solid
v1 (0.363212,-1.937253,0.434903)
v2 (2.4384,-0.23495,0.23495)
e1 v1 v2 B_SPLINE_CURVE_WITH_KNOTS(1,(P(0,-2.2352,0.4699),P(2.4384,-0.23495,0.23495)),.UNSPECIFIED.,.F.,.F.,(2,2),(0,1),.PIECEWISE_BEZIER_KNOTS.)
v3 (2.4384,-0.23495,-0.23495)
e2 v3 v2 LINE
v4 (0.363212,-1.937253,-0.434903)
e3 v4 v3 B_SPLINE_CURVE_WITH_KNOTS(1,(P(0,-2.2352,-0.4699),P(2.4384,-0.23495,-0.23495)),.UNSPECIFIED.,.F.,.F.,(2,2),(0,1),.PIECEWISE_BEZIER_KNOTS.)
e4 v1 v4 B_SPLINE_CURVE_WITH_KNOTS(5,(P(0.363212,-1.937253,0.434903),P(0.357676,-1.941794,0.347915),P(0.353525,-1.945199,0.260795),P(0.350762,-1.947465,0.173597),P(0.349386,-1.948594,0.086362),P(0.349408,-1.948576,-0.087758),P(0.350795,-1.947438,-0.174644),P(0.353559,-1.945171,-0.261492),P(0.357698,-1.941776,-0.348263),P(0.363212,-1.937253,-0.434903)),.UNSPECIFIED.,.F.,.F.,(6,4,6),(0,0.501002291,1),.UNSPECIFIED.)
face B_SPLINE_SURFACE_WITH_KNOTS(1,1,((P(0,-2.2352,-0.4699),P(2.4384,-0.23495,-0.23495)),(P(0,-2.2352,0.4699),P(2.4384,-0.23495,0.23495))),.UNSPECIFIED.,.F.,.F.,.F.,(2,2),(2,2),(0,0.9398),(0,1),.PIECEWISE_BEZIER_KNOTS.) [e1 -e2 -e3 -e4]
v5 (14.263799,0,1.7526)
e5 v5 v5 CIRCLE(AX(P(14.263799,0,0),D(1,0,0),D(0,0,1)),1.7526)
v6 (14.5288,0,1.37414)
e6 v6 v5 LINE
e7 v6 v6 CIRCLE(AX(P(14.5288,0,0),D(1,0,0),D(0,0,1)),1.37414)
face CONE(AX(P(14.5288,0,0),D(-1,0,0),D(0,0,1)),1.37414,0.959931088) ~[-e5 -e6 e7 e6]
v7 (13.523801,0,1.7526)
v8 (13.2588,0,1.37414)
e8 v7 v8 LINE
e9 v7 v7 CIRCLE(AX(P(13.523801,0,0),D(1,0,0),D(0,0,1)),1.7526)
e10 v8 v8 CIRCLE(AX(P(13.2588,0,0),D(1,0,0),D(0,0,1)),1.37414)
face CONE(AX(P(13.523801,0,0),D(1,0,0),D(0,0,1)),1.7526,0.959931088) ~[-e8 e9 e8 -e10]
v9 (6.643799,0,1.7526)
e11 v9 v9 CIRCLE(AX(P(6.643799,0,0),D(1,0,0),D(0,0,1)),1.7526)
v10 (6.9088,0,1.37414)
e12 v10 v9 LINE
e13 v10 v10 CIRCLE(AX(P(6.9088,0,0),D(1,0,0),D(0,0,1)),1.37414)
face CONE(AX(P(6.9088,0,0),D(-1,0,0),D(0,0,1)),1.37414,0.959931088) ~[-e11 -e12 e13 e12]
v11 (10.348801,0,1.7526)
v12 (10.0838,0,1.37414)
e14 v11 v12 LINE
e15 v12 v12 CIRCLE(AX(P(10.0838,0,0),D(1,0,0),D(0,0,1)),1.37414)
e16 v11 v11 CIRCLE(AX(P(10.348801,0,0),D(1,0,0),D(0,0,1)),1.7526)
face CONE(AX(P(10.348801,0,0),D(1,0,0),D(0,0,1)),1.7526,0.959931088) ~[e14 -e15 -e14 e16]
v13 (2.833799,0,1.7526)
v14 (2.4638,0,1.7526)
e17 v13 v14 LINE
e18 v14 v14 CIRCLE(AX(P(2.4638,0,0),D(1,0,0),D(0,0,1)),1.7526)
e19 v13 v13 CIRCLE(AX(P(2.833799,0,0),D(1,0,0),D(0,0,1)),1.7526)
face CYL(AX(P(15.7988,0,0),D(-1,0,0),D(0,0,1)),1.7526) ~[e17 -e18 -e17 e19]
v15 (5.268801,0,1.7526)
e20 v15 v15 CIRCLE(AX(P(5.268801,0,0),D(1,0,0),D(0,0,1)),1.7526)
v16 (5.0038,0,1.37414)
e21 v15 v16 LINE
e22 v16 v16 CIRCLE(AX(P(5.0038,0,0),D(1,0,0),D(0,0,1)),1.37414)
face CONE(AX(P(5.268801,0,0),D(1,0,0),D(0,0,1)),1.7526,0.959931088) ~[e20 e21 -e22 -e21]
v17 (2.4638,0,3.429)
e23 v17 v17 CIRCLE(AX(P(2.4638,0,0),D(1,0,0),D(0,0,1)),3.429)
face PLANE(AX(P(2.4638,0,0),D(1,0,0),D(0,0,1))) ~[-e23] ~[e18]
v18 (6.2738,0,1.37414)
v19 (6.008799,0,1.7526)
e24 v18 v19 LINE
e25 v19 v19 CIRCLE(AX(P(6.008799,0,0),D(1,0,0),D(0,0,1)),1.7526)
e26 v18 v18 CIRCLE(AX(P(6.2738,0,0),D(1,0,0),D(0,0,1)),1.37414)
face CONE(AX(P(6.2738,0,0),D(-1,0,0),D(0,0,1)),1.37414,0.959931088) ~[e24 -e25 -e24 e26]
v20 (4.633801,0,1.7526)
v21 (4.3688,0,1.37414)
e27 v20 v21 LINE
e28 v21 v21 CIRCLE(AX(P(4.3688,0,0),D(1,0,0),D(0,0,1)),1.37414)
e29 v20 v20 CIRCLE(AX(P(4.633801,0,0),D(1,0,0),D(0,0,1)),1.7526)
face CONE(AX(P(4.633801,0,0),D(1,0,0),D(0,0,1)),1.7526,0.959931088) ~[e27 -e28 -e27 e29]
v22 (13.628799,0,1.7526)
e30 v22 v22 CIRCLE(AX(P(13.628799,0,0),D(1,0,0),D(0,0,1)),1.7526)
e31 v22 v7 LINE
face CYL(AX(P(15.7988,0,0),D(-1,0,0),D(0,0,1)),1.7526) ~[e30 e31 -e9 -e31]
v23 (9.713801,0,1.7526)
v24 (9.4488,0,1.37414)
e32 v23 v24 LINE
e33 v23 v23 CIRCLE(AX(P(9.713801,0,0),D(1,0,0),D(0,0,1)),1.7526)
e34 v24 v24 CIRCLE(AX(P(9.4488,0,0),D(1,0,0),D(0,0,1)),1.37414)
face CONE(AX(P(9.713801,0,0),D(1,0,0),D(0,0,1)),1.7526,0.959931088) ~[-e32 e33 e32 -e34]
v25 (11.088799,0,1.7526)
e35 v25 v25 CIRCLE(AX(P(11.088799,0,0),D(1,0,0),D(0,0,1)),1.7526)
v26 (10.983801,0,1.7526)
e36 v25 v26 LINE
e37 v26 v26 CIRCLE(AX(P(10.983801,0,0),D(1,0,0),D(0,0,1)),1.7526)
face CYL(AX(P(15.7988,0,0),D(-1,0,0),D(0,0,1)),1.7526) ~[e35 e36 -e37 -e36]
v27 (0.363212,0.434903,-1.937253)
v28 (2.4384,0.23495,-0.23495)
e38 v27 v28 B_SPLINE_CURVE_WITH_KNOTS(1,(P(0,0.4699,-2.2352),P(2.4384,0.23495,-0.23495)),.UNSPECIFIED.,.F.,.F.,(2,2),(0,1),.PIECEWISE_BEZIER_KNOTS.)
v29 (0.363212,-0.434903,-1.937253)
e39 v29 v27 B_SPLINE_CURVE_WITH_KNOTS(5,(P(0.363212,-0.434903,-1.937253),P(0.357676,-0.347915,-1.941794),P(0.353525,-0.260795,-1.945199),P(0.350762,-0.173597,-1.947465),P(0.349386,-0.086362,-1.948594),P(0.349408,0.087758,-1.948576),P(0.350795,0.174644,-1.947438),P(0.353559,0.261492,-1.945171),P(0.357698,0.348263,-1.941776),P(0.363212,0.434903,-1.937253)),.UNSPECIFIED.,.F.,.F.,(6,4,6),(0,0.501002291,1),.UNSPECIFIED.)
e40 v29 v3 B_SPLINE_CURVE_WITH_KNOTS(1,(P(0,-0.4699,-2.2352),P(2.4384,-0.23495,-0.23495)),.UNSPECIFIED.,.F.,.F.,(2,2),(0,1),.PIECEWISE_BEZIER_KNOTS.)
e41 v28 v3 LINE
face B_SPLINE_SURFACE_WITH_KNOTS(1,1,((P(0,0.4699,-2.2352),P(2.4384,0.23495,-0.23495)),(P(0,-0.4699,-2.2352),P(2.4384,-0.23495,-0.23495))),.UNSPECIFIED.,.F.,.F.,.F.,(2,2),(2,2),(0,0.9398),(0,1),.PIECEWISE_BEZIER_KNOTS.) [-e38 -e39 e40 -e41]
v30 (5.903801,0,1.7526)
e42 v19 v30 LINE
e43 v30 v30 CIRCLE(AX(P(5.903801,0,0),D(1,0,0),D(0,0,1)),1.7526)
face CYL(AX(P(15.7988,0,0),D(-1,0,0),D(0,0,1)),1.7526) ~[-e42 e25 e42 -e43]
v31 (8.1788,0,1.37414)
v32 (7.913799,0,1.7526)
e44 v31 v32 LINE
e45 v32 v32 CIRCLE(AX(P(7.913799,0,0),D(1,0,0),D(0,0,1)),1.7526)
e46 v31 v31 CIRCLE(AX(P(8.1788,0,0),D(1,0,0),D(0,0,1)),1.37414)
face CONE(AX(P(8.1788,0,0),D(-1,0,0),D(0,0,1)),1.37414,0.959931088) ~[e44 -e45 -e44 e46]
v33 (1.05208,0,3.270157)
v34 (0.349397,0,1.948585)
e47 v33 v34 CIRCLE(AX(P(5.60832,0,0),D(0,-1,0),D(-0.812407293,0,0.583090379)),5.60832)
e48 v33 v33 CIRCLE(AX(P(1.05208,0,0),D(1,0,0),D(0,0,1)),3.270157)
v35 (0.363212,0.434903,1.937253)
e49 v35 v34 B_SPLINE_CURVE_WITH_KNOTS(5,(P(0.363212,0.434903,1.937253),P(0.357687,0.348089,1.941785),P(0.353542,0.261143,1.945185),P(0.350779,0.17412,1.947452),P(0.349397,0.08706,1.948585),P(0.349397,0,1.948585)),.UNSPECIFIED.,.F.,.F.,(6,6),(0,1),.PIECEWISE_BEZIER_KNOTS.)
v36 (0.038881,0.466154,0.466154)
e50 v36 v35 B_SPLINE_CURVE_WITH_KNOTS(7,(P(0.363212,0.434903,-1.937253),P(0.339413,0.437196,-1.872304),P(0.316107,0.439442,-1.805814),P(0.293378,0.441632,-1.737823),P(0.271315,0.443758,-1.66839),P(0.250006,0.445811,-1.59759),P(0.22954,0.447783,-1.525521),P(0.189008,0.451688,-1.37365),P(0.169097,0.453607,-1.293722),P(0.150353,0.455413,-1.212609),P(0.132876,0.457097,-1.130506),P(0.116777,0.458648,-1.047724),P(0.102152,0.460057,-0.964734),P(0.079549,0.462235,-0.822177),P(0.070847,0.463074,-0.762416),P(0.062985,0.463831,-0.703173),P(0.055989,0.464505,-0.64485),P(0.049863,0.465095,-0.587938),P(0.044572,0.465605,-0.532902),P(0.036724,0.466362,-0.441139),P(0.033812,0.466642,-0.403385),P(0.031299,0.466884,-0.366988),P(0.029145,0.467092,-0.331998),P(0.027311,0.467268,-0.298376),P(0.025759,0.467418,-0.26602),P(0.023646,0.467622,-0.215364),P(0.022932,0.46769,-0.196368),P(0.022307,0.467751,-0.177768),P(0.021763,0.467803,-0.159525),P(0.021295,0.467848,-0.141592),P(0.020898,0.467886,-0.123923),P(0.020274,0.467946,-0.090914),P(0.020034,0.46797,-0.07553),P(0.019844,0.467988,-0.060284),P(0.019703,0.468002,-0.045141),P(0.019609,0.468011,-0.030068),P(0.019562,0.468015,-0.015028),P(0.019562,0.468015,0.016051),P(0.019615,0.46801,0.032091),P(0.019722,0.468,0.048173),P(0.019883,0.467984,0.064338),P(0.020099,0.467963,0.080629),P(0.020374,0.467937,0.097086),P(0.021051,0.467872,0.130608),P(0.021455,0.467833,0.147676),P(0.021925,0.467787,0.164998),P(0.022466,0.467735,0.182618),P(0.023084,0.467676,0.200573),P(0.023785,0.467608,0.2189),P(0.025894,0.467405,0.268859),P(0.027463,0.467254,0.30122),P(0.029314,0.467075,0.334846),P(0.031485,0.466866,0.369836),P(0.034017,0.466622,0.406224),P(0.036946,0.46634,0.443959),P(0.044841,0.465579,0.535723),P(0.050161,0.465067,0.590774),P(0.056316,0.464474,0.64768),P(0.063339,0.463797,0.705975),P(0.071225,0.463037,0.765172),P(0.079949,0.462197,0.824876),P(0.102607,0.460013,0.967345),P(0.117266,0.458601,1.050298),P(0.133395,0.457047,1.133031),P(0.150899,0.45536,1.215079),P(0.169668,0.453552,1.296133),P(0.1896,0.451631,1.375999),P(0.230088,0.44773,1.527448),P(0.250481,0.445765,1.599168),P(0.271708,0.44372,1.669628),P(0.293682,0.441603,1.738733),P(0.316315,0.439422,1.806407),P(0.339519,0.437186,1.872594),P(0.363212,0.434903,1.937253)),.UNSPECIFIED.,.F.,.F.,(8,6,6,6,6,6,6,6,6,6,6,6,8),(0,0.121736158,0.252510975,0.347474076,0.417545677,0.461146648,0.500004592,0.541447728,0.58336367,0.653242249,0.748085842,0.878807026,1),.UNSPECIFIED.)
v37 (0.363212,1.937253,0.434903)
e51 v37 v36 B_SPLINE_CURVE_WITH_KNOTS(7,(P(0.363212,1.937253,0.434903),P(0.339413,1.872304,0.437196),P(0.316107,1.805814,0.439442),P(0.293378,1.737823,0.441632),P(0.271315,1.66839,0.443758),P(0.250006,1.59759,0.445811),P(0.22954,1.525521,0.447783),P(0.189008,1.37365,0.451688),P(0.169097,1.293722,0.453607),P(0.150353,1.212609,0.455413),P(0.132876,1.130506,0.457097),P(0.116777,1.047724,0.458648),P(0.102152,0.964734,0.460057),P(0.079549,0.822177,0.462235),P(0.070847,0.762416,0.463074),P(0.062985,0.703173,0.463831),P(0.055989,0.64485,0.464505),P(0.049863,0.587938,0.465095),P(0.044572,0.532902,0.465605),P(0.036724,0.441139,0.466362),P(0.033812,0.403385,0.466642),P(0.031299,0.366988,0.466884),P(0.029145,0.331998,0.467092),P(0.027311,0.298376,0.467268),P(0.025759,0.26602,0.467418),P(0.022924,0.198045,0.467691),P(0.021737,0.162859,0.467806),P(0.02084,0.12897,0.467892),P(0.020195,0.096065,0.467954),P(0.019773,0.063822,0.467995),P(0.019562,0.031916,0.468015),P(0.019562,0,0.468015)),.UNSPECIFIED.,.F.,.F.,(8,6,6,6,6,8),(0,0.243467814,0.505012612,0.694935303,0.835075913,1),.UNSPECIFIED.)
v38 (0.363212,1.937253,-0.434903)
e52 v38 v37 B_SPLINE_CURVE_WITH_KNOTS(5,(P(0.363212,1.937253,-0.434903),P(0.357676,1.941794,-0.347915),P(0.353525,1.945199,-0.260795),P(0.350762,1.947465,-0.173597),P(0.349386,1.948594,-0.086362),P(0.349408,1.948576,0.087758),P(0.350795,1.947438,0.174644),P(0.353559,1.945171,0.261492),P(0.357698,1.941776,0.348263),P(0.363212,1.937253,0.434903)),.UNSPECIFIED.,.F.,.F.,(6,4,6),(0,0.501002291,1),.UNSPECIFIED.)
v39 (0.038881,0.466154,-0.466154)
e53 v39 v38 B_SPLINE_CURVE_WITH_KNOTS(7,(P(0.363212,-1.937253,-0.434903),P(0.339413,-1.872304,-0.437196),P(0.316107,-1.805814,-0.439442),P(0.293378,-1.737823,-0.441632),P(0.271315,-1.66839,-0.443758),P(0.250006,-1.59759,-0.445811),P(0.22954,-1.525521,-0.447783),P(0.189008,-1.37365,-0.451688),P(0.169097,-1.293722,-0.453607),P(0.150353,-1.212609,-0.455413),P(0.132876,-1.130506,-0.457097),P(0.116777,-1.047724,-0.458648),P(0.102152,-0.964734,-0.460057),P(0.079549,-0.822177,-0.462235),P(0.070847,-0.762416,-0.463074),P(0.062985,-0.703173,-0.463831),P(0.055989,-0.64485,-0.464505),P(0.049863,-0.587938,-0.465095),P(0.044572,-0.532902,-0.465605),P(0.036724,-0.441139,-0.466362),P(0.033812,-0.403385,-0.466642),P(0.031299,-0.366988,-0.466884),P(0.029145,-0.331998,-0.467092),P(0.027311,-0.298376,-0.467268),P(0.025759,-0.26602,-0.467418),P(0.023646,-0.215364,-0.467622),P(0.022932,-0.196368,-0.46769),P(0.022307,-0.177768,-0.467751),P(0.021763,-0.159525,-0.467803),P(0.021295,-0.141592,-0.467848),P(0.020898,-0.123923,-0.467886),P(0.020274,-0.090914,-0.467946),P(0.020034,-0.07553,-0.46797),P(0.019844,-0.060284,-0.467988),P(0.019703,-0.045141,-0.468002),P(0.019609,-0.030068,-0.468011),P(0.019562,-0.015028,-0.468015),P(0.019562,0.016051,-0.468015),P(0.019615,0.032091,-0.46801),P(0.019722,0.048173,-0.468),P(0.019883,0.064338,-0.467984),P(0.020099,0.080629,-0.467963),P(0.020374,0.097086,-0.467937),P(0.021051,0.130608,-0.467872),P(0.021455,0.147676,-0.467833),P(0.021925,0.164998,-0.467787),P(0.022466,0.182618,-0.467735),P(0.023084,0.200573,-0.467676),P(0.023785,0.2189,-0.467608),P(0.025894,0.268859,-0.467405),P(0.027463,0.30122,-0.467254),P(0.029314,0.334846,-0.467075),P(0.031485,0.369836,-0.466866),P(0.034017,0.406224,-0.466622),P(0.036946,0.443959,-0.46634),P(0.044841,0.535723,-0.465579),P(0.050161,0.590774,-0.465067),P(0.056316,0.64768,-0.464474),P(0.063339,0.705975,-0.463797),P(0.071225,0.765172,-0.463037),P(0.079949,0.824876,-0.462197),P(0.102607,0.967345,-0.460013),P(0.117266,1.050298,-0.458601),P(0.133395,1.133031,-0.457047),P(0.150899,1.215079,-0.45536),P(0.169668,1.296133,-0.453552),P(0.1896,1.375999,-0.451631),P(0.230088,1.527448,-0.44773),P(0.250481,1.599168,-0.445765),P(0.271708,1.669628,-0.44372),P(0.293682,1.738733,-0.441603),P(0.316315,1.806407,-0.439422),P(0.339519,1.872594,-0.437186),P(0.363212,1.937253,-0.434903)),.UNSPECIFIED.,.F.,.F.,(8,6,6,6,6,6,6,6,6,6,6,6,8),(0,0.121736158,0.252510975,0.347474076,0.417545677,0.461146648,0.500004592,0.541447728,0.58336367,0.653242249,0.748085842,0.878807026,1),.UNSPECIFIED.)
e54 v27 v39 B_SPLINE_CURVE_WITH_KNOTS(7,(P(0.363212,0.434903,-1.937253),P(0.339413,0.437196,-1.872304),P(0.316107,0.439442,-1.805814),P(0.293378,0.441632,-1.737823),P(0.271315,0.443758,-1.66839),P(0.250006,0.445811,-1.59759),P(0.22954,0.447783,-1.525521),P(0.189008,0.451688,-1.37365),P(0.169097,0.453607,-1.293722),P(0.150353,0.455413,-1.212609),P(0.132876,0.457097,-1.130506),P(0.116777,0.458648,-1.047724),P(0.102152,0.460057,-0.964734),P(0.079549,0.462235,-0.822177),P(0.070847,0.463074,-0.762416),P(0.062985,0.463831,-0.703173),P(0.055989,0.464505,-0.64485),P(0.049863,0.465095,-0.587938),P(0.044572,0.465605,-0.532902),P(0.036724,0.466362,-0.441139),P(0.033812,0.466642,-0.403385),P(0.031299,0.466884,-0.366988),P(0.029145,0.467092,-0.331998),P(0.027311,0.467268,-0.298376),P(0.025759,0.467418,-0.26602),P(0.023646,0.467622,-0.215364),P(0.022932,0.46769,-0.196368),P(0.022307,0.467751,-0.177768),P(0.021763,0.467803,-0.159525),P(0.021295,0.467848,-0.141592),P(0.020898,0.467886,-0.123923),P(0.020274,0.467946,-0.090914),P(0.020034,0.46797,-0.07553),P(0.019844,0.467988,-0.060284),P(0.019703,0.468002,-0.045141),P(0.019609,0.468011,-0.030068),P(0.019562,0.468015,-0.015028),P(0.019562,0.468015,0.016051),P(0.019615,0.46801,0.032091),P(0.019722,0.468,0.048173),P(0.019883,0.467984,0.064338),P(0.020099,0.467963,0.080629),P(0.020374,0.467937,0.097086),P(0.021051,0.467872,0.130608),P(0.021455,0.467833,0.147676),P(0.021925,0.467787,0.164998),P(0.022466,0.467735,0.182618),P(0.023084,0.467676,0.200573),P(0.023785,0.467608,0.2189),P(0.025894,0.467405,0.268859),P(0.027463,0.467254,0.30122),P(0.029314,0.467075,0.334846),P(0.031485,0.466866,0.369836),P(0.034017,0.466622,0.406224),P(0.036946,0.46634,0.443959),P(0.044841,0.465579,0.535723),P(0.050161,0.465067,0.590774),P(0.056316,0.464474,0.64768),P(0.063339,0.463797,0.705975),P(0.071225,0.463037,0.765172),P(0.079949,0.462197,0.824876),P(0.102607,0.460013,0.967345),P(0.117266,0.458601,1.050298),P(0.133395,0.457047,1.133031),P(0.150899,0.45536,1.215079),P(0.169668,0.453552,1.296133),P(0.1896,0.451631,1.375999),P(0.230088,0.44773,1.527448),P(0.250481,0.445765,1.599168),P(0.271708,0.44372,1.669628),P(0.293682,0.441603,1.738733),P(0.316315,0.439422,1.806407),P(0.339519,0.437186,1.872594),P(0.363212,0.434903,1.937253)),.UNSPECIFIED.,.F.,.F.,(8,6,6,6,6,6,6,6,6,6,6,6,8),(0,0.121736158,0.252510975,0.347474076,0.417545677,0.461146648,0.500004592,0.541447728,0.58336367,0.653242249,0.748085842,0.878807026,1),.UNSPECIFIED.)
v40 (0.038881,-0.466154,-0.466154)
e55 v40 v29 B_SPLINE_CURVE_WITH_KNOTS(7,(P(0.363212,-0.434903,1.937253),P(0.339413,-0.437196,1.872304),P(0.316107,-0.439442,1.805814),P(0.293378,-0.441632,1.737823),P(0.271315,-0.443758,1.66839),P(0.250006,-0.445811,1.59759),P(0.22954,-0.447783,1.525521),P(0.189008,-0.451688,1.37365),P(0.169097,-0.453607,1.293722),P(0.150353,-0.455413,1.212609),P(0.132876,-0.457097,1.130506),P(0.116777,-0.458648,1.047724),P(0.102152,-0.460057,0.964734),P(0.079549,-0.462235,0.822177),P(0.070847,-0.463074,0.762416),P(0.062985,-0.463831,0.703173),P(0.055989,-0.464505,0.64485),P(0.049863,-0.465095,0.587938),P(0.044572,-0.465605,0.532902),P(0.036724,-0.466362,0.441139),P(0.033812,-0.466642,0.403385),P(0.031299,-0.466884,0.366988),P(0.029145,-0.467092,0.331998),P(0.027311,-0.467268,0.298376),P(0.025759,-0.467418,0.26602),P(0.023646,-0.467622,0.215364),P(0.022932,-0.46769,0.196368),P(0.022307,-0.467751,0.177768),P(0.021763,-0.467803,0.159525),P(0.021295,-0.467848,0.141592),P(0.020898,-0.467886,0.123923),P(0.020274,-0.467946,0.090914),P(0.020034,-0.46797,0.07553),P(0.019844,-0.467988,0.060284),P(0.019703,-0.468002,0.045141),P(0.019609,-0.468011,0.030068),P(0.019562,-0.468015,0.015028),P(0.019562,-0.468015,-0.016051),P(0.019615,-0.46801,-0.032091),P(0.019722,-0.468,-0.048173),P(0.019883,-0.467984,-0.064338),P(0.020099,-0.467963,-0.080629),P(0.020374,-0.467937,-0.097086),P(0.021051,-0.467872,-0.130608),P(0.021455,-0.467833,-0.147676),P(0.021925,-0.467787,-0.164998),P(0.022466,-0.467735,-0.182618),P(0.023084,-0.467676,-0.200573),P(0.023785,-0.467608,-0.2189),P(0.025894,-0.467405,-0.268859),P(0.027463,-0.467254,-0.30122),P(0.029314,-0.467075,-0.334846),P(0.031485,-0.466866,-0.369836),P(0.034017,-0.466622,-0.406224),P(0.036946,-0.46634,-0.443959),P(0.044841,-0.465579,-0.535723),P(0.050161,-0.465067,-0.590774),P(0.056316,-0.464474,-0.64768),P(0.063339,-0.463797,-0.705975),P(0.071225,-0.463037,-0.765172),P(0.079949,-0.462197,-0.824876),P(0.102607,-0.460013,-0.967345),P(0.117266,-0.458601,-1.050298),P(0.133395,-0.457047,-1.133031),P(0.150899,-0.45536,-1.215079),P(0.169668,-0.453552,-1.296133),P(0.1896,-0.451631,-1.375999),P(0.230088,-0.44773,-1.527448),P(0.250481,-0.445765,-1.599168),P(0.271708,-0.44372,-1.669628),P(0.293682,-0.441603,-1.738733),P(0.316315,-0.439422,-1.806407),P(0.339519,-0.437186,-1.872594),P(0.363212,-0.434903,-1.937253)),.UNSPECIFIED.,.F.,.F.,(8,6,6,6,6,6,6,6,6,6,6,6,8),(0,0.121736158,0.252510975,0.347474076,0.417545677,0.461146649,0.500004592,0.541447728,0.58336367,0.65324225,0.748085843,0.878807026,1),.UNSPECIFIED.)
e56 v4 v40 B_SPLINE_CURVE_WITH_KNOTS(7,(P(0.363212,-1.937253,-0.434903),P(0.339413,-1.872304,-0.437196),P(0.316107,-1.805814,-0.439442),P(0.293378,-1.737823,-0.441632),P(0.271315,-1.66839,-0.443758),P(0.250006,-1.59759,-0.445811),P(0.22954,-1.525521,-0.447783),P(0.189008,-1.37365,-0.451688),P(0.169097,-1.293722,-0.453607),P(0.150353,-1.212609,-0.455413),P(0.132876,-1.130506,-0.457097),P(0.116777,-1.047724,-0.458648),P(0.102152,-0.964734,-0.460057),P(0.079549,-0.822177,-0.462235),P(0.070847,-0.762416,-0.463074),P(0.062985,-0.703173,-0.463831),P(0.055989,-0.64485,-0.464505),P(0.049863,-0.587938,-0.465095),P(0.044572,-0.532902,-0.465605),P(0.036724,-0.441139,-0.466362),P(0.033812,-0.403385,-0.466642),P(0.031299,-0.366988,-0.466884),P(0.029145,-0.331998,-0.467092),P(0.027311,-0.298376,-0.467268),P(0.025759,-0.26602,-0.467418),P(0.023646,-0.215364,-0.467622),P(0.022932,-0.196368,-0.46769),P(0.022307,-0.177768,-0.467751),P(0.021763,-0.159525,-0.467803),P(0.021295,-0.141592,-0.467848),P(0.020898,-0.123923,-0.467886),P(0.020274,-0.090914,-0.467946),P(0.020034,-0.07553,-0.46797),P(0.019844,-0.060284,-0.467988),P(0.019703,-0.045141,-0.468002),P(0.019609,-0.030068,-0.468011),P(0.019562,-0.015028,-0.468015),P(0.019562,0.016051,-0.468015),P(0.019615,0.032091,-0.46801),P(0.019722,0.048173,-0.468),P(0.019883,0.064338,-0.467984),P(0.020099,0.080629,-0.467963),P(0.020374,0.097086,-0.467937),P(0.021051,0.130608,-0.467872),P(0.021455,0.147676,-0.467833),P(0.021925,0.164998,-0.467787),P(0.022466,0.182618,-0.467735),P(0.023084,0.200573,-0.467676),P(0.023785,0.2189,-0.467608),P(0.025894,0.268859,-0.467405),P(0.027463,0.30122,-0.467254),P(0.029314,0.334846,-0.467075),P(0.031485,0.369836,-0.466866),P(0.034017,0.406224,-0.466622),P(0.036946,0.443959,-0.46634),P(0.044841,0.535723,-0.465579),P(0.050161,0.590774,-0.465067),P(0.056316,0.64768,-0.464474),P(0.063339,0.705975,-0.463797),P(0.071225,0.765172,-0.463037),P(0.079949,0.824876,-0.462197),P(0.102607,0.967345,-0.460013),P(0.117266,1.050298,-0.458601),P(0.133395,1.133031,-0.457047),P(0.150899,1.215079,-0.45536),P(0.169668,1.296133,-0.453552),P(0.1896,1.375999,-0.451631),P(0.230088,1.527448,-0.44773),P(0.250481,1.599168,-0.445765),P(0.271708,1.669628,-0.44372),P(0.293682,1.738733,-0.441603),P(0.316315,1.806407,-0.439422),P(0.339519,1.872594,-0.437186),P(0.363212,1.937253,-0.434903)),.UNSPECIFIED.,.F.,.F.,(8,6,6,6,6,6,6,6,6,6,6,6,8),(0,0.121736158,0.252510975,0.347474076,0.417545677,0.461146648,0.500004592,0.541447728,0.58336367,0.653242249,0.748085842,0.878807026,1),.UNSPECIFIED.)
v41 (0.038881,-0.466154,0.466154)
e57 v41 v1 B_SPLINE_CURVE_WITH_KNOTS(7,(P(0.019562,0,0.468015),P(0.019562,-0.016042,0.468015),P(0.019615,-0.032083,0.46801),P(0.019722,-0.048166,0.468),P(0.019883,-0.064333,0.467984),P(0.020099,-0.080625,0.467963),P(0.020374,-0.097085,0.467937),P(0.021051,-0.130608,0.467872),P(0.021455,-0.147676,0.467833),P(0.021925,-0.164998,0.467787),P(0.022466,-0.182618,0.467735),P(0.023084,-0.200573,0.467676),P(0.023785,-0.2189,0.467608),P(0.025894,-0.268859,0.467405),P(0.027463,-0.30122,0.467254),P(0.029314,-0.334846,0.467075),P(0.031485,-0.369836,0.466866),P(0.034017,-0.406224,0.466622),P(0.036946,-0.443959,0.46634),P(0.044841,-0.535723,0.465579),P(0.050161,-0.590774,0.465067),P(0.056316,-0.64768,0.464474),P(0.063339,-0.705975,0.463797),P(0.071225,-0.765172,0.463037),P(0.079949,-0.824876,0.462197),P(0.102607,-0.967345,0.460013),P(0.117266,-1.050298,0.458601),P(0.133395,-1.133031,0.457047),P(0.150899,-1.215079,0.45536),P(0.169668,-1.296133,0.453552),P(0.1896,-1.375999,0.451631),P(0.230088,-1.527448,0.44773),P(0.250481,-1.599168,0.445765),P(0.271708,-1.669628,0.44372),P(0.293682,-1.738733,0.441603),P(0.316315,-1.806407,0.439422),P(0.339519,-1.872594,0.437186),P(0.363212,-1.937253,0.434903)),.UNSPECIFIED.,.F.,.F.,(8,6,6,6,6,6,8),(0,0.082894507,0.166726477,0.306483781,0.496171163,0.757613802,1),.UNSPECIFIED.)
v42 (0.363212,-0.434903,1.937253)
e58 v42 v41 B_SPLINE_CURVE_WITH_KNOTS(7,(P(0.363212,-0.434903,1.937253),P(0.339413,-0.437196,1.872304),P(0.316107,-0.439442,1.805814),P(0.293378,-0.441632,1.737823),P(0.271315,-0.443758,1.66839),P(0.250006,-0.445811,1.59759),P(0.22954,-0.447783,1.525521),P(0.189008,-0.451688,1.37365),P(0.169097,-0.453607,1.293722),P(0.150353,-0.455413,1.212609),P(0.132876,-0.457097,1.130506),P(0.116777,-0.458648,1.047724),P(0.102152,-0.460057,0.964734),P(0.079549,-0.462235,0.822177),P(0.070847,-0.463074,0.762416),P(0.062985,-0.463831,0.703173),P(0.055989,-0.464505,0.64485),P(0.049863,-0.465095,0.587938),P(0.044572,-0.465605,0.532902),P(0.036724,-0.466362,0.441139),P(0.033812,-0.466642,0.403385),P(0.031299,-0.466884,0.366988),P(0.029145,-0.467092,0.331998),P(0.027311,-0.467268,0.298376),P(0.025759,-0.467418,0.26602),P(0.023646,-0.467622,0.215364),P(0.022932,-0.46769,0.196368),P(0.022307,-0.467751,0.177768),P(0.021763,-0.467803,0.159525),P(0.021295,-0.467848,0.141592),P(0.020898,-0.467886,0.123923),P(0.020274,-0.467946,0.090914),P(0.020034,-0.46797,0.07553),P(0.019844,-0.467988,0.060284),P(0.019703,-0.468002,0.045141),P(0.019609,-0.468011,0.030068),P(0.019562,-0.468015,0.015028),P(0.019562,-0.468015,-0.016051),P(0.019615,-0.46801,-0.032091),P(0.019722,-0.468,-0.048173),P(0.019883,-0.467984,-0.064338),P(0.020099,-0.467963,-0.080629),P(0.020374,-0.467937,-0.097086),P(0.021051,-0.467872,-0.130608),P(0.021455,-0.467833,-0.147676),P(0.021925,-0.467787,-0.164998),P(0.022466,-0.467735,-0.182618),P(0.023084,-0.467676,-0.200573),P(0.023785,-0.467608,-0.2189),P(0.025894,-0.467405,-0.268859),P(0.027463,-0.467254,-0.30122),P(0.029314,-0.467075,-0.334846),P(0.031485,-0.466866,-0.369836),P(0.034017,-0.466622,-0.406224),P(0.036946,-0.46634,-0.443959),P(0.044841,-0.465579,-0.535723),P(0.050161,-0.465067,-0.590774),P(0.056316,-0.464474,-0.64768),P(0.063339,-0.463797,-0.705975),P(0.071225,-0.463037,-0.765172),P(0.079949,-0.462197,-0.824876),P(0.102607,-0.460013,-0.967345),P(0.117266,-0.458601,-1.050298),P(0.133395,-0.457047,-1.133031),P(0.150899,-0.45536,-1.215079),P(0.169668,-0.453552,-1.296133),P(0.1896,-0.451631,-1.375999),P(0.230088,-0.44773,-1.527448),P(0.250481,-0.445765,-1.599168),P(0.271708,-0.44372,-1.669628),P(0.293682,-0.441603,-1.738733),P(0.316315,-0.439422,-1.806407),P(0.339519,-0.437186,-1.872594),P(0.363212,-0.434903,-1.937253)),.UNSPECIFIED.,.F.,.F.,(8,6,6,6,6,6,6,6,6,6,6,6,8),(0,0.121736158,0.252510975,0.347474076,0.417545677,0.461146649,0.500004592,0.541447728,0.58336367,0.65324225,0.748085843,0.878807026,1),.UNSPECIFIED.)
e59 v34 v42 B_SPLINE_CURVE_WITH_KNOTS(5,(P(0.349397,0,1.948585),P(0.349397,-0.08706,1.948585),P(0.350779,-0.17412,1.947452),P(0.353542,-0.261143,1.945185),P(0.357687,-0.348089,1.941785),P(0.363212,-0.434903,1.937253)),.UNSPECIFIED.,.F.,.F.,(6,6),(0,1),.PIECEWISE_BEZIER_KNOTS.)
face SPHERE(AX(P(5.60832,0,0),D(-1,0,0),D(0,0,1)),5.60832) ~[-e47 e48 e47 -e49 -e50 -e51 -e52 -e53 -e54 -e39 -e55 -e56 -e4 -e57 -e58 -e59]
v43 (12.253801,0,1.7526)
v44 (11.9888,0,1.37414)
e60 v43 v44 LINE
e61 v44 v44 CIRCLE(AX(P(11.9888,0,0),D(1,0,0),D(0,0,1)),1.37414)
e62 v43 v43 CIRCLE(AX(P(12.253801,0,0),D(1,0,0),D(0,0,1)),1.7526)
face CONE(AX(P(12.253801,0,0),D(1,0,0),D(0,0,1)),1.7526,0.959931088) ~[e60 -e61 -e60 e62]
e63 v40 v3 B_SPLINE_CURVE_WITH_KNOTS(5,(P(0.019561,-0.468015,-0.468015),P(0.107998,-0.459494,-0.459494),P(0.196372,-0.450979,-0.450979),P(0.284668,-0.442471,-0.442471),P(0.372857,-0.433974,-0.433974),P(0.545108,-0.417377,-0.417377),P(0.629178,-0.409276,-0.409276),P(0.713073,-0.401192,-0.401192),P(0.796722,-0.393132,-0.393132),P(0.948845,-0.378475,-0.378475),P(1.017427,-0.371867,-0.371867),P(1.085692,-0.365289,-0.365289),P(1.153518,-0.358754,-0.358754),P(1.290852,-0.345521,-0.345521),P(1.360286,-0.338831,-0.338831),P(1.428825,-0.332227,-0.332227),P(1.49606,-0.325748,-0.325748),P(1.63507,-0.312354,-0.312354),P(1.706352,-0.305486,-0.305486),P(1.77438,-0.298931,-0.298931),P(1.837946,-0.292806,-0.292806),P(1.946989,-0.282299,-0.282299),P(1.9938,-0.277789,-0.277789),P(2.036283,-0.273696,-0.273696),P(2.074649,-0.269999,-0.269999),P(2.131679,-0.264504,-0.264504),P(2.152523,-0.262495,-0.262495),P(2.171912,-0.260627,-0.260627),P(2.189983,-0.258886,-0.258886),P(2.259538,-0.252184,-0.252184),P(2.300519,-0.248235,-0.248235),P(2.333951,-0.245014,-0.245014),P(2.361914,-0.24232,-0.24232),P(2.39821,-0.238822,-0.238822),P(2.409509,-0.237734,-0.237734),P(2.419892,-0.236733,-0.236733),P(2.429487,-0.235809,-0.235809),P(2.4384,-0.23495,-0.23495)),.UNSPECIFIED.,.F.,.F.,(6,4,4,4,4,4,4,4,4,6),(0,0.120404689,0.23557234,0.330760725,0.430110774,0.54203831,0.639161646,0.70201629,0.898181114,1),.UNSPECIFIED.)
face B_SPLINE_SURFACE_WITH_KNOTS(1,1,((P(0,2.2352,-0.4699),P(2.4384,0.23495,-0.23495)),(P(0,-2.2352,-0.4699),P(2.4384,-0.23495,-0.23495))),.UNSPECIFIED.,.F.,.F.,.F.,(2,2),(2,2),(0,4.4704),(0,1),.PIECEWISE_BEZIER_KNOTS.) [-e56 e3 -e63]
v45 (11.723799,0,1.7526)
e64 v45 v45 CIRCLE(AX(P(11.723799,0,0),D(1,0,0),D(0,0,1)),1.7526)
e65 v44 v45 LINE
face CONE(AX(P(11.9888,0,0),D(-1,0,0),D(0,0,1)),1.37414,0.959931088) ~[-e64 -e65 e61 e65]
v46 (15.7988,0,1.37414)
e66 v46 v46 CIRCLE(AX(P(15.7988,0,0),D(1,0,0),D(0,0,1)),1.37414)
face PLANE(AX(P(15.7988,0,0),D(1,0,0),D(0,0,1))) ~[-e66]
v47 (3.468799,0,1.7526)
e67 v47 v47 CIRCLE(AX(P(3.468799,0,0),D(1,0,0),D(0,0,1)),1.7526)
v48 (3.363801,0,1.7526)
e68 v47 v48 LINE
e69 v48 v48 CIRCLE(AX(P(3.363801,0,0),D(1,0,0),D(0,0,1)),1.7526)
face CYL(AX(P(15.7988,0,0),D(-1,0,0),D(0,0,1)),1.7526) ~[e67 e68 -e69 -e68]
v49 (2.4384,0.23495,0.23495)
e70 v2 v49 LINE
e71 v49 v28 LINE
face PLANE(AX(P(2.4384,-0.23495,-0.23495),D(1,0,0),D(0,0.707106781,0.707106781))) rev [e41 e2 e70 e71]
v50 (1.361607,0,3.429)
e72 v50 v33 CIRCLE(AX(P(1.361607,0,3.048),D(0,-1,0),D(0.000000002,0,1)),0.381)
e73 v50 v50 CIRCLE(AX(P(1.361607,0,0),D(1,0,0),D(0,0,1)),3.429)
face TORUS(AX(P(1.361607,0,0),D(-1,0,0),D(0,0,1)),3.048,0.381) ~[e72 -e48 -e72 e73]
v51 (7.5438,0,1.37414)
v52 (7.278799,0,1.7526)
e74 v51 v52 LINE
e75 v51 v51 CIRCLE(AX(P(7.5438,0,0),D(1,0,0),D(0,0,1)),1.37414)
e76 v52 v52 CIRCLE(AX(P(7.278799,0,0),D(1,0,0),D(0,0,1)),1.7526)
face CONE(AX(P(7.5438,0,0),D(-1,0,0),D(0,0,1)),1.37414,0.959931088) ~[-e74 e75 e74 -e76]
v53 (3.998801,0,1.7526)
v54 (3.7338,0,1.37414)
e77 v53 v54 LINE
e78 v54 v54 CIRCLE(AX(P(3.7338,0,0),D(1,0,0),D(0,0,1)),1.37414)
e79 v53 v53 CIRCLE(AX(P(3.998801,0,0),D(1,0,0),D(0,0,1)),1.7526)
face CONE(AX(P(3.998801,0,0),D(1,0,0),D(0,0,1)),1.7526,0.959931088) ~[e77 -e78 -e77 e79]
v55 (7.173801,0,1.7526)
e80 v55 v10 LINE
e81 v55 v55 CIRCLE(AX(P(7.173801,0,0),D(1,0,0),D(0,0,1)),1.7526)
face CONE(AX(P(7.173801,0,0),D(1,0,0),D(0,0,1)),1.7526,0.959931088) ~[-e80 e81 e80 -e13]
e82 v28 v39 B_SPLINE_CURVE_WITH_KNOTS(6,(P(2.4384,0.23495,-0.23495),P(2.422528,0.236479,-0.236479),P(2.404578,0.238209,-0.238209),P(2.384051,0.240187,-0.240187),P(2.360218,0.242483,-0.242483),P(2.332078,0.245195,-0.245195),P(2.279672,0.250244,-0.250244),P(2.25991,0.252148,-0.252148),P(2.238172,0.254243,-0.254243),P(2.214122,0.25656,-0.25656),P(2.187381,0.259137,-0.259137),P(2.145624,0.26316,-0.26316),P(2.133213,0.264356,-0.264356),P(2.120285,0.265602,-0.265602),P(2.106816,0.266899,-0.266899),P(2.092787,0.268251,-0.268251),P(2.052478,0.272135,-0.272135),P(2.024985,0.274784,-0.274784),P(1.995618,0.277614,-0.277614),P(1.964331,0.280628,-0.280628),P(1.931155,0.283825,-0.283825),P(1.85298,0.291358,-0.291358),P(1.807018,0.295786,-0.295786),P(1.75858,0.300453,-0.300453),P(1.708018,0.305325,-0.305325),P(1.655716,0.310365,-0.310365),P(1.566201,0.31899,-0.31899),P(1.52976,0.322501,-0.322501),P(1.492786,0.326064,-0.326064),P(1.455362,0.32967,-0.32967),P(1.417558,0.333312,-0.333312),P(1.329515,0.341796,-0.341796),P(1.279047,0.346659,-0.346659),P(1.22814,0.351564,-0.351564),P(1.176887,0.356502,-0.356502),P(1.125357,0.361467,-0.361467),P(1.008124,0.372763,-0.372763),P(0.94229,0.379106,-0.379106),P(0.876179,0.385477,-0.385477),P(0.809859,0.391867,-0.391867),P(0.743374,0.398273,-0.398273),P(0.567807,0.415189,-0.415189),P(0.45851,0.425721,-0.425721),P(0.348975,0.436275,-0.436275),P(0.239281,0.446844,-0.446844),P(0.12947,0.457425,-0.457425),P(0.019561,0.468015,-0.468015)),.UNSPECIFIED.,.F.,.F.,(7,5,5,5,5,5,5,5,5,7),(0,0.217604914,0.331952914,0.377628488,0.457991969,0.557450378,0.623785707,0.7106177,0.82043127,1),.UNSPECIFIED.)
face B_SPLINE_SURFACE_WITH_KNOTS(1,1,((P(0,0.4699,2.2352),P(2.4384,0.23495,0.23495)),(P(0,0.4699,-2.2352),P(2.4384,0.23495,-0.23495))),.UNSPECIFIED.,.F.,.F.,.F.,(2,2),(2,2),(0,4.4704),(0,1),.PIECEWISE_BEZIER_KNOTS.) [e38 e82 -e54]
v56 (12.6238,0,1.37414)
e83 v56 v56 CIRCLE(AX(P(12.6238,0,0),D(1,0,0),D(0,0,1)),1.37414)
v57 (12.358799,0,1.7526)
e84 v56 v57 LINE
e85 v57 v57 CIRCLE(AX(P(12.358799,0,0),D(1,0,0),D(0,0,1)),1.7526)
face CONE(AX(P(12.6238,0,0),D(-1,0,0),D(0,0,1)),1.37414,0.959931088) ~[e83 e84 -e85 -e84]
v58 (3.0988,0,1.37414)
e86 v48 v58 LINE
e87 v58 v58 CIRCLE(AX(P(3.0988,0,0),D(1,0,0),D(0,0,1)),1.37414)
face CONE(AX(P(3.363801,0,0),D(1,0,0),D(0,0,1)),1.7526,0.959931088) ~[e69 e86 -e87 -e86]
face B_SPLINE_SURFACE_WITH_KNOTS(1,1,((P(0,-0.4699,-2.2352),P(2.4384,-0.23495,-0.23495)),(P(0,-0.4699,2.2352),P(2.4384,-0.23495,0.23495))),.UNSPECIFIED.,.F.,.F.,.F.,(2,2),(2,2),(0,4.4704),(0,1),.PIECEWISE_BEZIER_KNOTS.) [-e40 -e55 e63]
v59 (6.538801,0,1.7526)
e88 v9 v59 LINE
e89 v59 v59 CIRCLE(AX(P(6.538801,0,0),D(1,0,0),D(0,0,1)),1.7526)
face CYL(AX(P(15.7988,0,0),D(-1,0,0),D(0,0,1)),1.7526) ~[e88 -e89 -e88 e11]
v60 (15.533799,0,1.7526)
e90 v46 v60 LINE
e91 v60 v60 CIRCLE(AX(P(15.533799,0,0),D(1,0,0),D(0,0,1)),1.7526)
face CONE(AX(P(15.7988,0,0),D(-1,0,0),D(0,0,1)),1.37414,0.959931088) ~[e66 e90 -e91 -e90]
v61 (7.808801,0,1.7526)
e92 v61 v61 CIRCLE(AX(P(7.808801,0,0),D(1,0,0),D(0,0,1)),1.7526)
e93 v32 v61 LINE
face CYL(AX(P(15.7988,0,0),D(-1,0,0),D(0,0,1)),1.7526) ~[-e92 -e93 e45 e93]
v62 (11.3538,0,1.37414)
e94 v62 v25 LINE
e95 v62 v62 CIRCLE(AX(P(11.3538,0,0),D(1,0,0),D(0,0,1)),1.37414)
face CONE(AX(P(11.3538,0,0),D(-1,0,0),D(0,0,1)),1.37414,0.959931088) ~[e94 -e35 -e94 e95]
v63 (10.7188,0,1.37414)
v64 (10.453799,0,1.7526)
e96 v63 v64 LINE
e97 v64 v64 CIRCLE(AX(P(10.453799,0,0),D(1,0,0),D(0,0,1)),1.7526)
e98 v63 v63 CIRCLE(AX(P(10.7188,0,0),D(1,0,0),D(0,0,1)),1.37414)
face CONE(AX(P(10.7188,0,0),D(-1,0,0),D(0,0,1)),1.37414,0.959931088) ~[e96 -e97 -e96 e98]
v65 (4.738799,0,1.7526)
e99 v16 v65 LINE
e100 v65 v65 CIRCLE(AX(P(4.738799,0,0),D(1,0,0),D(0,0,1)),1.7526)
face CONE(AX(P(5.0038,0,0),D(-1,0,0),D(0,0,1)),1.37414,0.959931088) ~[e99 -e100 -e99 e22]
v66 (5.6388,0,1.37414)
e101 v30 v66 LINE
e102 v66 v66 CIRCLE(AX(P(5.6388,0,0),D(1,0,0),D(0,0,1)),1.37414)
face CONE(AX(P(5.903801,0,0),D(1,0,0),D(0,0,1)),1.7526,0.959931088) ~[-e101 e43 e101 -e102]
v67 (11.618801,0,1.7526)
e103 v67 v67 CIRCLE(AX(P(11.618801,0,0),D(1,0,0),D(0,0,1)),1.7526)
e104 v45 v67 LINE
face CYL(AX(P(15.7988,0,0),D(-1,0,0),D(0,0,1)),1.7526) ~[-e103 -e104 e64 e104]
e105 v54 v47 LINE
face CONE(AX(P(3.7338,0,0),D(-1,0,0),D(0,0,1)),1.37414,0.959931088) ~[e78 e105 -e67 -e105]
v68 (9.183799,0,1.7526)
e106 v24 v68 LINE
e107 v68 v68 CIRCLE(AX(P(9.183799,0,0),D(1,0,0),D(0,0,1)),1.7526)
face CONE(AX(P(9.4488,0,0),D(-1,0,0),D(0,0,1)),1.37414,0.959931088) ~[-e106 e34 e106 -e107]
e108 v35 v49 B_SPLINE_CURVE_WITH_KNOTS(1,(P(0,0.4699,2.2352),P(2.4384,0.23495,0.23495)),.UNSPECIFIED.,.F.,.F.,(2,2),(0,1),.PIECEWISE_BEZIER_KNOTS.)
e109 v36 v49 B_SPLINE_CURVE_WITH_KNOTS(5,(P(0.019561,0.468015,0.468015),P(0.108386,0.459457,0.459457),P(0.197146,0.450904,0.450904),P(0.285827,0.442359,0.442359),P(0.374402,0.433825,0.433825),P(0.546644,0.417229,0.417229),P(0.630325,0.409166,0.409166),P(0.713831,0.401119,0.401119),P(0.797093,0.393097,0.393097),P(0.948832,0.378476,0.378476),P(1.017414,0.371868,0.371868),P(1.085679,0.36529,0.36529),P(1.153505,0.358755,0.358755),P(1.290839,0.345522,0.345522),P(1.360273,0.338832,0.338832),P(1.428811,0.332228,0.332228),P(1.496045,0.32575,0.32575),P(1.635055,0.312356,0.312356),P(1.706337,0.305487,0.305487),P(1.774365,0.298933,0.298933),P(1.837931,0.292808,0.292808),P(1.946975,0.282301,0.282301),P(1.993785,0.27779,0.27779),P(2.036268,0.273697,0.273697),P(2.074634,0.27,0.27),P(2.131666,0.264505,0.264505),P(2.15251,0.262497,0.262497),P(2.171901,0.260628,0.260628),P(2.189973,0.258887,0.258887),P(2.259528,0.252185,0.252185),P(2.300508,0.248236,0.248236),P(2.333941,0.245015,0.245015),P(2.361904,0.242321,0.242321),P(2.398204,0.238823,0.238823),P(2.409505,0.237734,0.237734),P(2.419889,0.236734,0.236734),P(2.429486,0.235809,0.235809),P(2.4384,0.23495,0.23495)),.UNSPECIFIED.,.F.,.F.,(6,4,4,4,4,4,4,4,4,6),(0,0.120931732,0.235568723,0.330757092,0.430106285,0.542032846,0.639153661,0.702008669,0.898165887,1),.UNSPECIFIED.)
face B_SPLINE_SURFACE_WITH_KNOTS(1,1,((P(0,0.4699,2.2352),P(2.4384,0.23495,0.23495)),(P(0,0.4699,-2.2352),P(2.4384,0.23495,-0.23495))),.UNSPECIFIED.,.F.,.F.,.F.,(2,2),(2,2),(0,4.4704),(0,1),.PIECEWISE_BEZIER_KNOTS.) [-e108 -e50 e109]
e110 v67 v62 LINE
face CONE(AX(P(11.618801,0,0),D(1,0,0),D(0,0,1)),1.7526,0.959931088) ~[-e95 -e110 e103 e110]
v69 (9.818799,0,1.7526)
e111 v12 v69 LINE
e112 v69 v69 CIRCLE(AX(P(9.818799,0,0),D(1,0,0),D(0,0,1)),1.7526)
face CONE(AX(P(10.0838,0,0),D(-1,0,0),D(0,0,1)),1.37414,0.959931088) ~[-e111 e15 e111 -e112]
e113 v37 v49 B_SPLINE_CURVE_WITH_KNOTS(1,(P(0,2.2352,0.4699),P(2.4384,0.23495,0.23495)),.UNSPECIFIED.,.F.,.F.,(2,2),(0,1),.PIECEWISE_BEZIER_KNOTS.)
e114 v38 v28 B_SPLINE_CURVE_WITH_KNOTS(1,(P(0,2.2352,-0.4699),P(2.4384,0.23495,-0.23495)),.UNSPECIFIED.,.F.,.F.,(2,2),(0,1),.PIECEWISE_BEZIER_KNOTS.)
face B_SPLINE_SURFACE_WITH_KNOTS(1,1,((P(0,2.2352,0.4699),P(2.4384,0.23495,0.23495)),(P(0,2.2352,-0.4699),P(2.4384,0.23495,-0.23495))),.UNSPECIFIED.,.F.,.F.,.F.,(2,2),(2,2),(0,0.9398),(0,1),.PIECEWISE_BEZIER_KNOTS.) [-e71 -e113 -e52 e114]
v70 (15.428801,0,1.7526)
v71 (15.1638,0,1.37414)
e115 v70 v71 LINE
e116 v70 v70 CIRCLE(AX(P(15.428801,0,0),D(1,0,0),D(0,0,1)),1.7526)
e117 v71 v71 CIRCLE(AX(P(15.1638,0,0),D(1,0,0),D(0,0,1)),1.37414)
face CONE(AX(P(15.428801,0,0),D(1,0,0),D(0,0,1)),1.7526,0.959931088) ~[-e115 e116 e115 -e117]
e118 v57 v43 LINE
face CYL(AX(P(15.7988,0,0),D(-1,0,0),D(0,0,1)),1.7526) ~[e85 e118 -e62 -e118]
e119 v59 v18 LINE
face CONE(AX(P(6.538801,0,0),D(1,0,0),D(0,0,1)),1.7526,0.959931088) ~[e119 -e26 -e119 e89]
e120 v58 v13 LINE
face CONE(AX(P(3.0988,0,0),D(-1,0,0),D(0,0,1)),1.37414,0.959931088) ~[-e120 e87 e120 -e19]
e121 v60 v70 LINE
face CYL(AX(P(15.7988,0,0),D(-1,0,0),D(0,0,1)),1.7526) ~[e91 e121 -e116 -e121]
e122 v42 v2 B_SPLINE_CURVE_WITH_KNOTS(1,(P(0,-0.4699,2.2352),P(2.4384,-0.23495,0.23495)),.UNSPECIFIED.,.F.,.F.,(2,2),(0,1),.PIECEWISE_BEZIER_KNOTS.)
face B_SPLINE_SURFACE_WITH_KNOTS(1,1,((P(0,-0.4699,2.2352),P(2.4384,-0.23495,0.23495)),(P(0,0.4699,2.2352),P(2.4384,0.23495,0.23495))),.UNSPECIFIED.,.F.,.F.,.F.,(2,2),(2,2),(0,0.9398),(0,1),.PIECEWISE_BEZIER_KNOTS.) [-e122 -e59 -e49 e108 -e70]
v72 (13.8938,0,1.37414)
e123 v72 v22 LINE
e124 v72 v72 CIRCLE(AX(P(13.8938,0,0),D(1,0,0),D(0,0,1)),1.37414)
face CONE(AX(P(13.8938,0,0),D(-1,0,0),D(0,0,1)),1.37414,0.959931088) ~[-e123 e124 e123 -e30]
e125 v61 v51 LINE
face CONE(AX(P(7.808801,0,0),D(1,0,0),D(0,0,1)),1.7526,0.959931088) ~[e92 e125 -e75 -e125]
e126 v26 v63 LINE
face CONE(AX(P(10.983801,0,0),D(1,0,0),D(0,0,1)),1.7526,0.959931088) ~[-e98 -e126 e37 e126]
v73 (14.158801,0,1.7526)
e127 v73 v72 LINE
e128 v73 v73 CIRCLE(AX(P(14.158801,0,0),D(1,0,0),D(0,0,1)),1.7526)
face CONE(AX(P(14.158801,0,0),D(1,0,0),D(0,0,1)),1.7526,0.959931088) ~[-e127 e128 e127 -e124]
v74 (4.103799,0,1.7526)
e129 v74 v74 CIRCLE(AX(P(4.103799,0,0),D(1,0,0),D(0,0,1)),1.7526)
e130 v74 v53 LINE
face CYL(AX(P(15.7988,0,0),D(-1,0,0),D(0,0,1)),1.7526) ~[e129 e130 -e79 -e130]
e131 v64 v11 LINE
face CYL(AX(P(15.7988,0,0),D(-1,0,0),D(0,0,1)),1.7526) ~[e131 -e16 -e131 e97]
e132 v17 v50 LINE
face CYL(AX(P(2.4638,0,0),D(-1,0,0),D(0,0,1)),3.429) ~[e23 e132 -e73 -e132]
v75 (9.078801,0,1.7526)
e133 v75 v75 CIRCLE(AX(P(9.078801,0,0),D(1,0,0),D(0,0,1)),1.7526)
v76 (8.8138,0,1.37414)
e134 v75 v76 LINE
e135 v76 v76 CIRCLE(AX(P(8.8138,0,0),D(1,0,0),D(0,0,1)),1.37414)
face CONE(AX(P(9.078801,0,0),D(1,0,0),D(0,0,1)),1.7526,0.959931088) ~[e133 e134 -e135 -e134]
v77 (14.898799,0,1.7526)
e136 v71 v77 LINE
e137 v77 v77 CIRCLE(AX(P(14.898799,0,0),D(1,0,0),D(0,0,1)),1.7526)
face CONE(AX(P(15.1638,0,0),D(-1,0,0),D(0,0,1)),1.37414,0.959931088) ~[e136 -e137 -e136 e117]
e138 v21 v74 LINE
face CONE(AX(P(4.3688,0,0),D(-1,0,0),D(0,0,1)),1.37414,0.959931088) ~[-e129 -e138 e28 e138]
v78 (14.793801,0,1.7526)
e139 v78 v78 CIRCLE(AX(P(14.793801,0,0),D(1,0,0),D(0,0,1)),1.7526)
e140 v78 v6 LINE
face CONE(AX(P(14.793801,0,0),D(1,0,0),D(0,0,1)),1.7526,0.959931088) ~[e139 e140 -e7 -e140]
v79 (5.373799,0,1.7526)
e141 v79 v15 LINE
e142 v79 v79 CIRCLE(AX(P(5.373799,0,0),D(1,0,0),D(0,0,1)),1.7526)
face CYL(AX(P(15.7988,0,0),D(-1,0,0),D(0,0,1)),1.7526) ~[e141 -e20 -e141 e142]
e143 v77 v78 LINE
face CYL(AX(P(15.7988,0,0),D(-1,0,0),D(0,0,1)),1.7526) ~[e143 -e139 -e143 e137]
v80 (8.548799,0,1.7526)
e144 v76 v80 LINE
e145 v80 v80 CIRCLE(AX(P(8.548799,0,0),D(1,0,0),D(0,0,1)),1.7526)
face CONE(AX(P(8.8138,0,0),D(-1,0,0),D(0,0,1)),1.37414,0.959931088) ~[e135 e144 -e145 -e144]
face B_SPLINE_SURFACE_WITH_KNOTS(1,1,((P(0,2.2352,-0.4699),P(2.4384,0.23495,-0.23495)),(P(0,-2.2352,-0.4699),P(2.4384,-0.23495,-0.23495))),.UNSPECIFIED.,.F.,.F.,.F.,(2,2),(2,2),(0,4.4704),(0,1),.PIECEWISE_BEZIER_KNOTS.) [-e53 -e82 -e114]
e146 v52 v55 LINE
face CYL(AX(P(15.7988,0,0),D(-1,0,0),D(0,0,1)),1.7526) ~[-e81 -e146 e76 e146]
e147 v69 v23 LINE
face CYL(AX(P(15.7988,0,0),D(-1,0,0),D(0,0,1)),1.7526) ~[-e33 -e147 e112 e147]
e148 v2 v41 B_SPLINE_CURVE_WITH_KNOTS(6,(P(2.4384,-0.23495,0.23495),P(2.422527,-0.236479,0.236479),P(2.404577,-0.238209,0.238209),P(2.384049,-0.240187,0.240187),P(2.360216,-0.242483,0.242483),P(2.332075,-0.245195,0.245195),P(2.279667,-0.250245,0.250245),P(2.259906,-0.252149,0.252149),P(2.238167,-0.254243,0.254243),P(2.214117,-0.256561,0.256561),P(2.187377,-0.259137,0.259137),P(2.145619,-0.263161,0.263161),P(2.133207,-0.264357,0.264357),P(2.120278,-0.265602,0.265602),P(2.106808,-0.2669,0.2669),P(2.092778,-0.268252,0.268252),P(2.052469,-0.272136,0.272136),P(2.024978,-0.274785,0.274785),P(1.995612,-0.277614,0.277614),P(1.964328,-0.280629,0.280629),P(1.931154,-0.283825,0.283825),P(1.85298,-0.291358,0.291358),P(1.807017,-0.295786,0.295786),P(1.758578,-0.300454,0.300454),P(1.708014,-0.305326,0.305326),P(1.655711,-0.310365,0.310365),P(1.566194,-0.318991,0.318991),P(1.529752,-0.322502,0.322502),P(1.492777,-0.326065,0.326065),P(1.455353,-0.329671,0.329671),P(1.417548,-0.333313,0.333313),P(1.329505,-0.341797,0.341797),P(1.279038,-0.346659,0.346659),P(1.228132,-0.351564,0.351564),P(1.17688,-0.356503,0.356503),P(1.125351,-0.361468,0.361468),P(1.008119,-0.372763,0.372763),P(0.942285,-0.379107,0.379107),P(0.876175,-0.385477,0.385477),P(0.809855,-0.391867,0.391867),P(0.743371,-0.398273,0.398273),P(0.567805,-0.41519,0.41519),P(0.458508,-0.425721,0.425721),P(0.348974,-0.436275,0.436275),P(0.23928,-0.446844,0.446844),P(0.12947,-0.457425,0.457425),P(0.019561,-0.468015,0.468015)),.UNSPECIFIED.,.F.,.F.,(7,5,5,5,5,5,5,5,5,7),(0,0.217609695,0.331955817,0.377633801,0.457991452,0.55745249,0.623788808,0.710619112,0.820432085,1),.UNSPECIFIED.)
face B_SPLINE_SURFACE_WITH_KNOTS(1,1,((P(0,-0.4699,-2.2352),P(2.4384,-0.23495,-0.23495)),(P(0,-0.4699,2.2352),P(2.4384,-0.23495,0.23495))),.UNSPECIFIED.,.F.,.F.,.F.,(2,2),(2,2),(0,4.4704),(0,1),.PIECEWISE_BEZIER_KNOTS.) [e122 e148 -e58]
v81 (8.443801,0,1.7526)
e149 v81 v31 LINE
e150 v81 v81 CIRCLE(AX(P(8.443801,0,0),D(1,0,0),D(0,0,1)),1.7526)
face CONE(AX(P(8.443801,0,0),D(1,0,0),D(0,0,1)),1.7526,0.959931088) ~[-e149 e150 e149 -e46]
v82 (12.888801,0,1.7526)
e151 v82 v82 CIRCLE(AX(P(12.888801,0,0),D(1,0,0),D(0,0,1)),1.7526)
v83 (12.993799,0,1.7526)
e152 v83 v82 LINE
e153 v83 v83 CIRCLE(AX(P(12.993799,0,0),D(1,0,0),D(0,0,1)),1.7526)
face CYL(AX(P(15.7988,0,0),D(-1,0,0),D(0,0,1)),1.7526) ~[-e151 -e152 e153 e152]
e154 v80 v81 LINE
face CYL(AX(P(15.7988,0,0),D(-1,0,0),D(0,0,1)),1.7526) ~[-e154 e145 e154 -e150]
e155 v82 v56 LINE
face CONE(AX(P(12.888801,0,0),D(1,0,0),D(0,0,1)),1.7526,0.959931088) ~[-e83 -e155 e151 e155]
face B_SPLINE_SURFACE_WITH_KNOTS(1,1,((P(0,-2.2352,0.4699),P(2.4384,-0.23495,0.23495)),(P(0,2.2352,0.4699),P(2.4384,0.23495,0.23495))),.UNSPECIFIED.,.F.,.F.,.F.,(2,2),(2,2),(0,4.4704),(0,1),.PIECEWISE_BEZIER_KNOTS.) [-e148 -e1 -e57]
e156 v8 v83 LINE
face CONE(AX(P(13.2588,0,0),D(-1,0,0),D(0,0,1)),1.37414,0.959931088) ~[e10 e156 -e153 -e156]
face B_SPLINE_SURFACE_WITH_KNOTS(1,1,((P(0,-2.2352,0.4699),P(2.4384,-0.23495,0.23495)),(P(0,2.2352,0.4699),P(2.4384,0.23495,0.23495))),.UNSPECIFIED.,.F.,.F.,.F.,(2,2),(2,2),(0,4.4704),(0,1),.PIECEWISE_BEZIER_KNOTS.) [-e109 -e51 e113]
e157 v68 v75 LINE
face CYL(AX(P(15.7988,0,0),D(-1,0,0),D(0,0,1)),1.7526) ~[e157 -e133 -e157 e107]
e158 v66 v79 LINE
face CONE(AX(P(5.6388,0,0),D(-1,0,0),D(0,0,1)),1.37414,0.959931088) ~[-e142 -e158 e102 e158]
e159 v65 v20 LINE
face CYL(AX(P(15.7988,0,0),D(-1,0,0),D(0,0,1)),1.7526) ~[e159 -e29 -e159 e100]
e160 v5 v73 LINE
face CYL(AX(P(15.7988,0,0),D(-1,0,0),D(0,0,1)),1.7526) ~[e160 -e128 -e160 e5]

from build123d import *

# Parameters (mm, degrees)
CIRPATTERN1_COUNT = 2
CIRPATTERN1_ANGLE = 90
THDSCHPAT_COUNT   = 21
THDSCHPAT_PITCH   = 0.635


with BuildPart() as part:
    # BodySke → Base-Revolve (revolve)
    with BuildSketch(Plane.XY, mode=Mode.PRIVATE) as base_revolve_sk:
        with BuildLine():
            Line((2.4638, 1.7526), (2.4638, 3.429))
            Line((2.4638, 3.429), (1.361607109, 3.429))
            ThreePointArc((1.361607109, 3.429), (1.187654504, 3.386971225), (1.05207993, 3.270157434))
            ThreePointArc((1.05207993, 3.270157434), (0.269494964, 1.717614758), (0, 0))
            Line((0, 0), (15.7988, 0))
            Line((15.7988, 0), (15.7988, 1.7526))
            Line((15.7988, 1.7526), (2.4638, 1.7526))
        make_face()
    revolve(base_revolve_sk.sketch.rotate(Axis((-25.4, 0, 0), (1, 0, 0)), 90), axis=Axis((-25.4, 0, 0), (1, 0, 0)))

    # Sketch3 → Cut-Loft1 section 0
    with BuildSketch(Plane(origin=(0, 0, 0), x_dir=(0, 0, -1), z_dir=(1, 0, 0))):
        with BuildLine():
            Line((0.4699, -2.2352), (-0.4699, -2.2352))
            Line((-0.4699, -2.2352), (-0.4699, 2.2352))
            Line((-0.4699, 2.2352), (0.4699, 2.2352))
            Line((0.4699, 2.2352), (0.4699, -2.2352))
        make_face()
    # Sketch4 → Cut-Loft1 section 1
    with BuildSketch(Plane(origin=(2.4384, 0, 0), x_dir=(0, 0, -1), z_dir=(1, 0, 0))):
        with BuildLine():
            Line((0.23495, -0.23495), (-0.23495, -0.23495))
            Line((-0.23495, -0.23495), (-0.23495, 0.23495))
            Line((-0.23495, 0.23495), (0.23495, 0.23495))
            Line((0.23495, 0.23495), (0.23495, -0.23495))
        make_face()
    cut_loft1 = loft(mode=Mode.SUBTRACT)

    # CirPattern1: Cut-Loft1 ×2 about axis
    cirpattern1_axis = Axis((0, 0, 0), (1, 0, 0))
    for i in range(1, CIRPATTERN1_COUNT):
        add(cut_loft1.rotate(cirpattern1_axis, i * CIRPATTERN1_ANGLE / (CIRPATTERN1_COUNT - 1)), mode=Mode.SUBTRACT)

    # ThdSchSke → ThreadSchematic (revolve, cut)
    with BuildSketch(Plane.XY, mode=Mode.PRIVATE) as threadschematic_sk:
        Polygon((3.0988, -1.37414), (2.833799455, -1.7526), (2.833799455, -2.19075), (3.363800545, -2.19075), (3.363800545, -1.7526), align=None)
    threadschematic = revolve(threadschematic_sk.sketch.rotate(Axis((-3.175, 0, 0), (1, 0, 0)), 270), axis=Axis((-3.175, 0, 0), (1, 0, 0)), mode=Mode.SUBTRACT)

    # ThdSchPat: ThreadSchematic ×21
    with Locations(*[(i * THDSCHPAT_PITCH, 0, 0) for i in range(1, THDSCHPAT_COUNT)]):
        add(threadschematic, mode=Mode.SUBTRACT)


solid = part.part
